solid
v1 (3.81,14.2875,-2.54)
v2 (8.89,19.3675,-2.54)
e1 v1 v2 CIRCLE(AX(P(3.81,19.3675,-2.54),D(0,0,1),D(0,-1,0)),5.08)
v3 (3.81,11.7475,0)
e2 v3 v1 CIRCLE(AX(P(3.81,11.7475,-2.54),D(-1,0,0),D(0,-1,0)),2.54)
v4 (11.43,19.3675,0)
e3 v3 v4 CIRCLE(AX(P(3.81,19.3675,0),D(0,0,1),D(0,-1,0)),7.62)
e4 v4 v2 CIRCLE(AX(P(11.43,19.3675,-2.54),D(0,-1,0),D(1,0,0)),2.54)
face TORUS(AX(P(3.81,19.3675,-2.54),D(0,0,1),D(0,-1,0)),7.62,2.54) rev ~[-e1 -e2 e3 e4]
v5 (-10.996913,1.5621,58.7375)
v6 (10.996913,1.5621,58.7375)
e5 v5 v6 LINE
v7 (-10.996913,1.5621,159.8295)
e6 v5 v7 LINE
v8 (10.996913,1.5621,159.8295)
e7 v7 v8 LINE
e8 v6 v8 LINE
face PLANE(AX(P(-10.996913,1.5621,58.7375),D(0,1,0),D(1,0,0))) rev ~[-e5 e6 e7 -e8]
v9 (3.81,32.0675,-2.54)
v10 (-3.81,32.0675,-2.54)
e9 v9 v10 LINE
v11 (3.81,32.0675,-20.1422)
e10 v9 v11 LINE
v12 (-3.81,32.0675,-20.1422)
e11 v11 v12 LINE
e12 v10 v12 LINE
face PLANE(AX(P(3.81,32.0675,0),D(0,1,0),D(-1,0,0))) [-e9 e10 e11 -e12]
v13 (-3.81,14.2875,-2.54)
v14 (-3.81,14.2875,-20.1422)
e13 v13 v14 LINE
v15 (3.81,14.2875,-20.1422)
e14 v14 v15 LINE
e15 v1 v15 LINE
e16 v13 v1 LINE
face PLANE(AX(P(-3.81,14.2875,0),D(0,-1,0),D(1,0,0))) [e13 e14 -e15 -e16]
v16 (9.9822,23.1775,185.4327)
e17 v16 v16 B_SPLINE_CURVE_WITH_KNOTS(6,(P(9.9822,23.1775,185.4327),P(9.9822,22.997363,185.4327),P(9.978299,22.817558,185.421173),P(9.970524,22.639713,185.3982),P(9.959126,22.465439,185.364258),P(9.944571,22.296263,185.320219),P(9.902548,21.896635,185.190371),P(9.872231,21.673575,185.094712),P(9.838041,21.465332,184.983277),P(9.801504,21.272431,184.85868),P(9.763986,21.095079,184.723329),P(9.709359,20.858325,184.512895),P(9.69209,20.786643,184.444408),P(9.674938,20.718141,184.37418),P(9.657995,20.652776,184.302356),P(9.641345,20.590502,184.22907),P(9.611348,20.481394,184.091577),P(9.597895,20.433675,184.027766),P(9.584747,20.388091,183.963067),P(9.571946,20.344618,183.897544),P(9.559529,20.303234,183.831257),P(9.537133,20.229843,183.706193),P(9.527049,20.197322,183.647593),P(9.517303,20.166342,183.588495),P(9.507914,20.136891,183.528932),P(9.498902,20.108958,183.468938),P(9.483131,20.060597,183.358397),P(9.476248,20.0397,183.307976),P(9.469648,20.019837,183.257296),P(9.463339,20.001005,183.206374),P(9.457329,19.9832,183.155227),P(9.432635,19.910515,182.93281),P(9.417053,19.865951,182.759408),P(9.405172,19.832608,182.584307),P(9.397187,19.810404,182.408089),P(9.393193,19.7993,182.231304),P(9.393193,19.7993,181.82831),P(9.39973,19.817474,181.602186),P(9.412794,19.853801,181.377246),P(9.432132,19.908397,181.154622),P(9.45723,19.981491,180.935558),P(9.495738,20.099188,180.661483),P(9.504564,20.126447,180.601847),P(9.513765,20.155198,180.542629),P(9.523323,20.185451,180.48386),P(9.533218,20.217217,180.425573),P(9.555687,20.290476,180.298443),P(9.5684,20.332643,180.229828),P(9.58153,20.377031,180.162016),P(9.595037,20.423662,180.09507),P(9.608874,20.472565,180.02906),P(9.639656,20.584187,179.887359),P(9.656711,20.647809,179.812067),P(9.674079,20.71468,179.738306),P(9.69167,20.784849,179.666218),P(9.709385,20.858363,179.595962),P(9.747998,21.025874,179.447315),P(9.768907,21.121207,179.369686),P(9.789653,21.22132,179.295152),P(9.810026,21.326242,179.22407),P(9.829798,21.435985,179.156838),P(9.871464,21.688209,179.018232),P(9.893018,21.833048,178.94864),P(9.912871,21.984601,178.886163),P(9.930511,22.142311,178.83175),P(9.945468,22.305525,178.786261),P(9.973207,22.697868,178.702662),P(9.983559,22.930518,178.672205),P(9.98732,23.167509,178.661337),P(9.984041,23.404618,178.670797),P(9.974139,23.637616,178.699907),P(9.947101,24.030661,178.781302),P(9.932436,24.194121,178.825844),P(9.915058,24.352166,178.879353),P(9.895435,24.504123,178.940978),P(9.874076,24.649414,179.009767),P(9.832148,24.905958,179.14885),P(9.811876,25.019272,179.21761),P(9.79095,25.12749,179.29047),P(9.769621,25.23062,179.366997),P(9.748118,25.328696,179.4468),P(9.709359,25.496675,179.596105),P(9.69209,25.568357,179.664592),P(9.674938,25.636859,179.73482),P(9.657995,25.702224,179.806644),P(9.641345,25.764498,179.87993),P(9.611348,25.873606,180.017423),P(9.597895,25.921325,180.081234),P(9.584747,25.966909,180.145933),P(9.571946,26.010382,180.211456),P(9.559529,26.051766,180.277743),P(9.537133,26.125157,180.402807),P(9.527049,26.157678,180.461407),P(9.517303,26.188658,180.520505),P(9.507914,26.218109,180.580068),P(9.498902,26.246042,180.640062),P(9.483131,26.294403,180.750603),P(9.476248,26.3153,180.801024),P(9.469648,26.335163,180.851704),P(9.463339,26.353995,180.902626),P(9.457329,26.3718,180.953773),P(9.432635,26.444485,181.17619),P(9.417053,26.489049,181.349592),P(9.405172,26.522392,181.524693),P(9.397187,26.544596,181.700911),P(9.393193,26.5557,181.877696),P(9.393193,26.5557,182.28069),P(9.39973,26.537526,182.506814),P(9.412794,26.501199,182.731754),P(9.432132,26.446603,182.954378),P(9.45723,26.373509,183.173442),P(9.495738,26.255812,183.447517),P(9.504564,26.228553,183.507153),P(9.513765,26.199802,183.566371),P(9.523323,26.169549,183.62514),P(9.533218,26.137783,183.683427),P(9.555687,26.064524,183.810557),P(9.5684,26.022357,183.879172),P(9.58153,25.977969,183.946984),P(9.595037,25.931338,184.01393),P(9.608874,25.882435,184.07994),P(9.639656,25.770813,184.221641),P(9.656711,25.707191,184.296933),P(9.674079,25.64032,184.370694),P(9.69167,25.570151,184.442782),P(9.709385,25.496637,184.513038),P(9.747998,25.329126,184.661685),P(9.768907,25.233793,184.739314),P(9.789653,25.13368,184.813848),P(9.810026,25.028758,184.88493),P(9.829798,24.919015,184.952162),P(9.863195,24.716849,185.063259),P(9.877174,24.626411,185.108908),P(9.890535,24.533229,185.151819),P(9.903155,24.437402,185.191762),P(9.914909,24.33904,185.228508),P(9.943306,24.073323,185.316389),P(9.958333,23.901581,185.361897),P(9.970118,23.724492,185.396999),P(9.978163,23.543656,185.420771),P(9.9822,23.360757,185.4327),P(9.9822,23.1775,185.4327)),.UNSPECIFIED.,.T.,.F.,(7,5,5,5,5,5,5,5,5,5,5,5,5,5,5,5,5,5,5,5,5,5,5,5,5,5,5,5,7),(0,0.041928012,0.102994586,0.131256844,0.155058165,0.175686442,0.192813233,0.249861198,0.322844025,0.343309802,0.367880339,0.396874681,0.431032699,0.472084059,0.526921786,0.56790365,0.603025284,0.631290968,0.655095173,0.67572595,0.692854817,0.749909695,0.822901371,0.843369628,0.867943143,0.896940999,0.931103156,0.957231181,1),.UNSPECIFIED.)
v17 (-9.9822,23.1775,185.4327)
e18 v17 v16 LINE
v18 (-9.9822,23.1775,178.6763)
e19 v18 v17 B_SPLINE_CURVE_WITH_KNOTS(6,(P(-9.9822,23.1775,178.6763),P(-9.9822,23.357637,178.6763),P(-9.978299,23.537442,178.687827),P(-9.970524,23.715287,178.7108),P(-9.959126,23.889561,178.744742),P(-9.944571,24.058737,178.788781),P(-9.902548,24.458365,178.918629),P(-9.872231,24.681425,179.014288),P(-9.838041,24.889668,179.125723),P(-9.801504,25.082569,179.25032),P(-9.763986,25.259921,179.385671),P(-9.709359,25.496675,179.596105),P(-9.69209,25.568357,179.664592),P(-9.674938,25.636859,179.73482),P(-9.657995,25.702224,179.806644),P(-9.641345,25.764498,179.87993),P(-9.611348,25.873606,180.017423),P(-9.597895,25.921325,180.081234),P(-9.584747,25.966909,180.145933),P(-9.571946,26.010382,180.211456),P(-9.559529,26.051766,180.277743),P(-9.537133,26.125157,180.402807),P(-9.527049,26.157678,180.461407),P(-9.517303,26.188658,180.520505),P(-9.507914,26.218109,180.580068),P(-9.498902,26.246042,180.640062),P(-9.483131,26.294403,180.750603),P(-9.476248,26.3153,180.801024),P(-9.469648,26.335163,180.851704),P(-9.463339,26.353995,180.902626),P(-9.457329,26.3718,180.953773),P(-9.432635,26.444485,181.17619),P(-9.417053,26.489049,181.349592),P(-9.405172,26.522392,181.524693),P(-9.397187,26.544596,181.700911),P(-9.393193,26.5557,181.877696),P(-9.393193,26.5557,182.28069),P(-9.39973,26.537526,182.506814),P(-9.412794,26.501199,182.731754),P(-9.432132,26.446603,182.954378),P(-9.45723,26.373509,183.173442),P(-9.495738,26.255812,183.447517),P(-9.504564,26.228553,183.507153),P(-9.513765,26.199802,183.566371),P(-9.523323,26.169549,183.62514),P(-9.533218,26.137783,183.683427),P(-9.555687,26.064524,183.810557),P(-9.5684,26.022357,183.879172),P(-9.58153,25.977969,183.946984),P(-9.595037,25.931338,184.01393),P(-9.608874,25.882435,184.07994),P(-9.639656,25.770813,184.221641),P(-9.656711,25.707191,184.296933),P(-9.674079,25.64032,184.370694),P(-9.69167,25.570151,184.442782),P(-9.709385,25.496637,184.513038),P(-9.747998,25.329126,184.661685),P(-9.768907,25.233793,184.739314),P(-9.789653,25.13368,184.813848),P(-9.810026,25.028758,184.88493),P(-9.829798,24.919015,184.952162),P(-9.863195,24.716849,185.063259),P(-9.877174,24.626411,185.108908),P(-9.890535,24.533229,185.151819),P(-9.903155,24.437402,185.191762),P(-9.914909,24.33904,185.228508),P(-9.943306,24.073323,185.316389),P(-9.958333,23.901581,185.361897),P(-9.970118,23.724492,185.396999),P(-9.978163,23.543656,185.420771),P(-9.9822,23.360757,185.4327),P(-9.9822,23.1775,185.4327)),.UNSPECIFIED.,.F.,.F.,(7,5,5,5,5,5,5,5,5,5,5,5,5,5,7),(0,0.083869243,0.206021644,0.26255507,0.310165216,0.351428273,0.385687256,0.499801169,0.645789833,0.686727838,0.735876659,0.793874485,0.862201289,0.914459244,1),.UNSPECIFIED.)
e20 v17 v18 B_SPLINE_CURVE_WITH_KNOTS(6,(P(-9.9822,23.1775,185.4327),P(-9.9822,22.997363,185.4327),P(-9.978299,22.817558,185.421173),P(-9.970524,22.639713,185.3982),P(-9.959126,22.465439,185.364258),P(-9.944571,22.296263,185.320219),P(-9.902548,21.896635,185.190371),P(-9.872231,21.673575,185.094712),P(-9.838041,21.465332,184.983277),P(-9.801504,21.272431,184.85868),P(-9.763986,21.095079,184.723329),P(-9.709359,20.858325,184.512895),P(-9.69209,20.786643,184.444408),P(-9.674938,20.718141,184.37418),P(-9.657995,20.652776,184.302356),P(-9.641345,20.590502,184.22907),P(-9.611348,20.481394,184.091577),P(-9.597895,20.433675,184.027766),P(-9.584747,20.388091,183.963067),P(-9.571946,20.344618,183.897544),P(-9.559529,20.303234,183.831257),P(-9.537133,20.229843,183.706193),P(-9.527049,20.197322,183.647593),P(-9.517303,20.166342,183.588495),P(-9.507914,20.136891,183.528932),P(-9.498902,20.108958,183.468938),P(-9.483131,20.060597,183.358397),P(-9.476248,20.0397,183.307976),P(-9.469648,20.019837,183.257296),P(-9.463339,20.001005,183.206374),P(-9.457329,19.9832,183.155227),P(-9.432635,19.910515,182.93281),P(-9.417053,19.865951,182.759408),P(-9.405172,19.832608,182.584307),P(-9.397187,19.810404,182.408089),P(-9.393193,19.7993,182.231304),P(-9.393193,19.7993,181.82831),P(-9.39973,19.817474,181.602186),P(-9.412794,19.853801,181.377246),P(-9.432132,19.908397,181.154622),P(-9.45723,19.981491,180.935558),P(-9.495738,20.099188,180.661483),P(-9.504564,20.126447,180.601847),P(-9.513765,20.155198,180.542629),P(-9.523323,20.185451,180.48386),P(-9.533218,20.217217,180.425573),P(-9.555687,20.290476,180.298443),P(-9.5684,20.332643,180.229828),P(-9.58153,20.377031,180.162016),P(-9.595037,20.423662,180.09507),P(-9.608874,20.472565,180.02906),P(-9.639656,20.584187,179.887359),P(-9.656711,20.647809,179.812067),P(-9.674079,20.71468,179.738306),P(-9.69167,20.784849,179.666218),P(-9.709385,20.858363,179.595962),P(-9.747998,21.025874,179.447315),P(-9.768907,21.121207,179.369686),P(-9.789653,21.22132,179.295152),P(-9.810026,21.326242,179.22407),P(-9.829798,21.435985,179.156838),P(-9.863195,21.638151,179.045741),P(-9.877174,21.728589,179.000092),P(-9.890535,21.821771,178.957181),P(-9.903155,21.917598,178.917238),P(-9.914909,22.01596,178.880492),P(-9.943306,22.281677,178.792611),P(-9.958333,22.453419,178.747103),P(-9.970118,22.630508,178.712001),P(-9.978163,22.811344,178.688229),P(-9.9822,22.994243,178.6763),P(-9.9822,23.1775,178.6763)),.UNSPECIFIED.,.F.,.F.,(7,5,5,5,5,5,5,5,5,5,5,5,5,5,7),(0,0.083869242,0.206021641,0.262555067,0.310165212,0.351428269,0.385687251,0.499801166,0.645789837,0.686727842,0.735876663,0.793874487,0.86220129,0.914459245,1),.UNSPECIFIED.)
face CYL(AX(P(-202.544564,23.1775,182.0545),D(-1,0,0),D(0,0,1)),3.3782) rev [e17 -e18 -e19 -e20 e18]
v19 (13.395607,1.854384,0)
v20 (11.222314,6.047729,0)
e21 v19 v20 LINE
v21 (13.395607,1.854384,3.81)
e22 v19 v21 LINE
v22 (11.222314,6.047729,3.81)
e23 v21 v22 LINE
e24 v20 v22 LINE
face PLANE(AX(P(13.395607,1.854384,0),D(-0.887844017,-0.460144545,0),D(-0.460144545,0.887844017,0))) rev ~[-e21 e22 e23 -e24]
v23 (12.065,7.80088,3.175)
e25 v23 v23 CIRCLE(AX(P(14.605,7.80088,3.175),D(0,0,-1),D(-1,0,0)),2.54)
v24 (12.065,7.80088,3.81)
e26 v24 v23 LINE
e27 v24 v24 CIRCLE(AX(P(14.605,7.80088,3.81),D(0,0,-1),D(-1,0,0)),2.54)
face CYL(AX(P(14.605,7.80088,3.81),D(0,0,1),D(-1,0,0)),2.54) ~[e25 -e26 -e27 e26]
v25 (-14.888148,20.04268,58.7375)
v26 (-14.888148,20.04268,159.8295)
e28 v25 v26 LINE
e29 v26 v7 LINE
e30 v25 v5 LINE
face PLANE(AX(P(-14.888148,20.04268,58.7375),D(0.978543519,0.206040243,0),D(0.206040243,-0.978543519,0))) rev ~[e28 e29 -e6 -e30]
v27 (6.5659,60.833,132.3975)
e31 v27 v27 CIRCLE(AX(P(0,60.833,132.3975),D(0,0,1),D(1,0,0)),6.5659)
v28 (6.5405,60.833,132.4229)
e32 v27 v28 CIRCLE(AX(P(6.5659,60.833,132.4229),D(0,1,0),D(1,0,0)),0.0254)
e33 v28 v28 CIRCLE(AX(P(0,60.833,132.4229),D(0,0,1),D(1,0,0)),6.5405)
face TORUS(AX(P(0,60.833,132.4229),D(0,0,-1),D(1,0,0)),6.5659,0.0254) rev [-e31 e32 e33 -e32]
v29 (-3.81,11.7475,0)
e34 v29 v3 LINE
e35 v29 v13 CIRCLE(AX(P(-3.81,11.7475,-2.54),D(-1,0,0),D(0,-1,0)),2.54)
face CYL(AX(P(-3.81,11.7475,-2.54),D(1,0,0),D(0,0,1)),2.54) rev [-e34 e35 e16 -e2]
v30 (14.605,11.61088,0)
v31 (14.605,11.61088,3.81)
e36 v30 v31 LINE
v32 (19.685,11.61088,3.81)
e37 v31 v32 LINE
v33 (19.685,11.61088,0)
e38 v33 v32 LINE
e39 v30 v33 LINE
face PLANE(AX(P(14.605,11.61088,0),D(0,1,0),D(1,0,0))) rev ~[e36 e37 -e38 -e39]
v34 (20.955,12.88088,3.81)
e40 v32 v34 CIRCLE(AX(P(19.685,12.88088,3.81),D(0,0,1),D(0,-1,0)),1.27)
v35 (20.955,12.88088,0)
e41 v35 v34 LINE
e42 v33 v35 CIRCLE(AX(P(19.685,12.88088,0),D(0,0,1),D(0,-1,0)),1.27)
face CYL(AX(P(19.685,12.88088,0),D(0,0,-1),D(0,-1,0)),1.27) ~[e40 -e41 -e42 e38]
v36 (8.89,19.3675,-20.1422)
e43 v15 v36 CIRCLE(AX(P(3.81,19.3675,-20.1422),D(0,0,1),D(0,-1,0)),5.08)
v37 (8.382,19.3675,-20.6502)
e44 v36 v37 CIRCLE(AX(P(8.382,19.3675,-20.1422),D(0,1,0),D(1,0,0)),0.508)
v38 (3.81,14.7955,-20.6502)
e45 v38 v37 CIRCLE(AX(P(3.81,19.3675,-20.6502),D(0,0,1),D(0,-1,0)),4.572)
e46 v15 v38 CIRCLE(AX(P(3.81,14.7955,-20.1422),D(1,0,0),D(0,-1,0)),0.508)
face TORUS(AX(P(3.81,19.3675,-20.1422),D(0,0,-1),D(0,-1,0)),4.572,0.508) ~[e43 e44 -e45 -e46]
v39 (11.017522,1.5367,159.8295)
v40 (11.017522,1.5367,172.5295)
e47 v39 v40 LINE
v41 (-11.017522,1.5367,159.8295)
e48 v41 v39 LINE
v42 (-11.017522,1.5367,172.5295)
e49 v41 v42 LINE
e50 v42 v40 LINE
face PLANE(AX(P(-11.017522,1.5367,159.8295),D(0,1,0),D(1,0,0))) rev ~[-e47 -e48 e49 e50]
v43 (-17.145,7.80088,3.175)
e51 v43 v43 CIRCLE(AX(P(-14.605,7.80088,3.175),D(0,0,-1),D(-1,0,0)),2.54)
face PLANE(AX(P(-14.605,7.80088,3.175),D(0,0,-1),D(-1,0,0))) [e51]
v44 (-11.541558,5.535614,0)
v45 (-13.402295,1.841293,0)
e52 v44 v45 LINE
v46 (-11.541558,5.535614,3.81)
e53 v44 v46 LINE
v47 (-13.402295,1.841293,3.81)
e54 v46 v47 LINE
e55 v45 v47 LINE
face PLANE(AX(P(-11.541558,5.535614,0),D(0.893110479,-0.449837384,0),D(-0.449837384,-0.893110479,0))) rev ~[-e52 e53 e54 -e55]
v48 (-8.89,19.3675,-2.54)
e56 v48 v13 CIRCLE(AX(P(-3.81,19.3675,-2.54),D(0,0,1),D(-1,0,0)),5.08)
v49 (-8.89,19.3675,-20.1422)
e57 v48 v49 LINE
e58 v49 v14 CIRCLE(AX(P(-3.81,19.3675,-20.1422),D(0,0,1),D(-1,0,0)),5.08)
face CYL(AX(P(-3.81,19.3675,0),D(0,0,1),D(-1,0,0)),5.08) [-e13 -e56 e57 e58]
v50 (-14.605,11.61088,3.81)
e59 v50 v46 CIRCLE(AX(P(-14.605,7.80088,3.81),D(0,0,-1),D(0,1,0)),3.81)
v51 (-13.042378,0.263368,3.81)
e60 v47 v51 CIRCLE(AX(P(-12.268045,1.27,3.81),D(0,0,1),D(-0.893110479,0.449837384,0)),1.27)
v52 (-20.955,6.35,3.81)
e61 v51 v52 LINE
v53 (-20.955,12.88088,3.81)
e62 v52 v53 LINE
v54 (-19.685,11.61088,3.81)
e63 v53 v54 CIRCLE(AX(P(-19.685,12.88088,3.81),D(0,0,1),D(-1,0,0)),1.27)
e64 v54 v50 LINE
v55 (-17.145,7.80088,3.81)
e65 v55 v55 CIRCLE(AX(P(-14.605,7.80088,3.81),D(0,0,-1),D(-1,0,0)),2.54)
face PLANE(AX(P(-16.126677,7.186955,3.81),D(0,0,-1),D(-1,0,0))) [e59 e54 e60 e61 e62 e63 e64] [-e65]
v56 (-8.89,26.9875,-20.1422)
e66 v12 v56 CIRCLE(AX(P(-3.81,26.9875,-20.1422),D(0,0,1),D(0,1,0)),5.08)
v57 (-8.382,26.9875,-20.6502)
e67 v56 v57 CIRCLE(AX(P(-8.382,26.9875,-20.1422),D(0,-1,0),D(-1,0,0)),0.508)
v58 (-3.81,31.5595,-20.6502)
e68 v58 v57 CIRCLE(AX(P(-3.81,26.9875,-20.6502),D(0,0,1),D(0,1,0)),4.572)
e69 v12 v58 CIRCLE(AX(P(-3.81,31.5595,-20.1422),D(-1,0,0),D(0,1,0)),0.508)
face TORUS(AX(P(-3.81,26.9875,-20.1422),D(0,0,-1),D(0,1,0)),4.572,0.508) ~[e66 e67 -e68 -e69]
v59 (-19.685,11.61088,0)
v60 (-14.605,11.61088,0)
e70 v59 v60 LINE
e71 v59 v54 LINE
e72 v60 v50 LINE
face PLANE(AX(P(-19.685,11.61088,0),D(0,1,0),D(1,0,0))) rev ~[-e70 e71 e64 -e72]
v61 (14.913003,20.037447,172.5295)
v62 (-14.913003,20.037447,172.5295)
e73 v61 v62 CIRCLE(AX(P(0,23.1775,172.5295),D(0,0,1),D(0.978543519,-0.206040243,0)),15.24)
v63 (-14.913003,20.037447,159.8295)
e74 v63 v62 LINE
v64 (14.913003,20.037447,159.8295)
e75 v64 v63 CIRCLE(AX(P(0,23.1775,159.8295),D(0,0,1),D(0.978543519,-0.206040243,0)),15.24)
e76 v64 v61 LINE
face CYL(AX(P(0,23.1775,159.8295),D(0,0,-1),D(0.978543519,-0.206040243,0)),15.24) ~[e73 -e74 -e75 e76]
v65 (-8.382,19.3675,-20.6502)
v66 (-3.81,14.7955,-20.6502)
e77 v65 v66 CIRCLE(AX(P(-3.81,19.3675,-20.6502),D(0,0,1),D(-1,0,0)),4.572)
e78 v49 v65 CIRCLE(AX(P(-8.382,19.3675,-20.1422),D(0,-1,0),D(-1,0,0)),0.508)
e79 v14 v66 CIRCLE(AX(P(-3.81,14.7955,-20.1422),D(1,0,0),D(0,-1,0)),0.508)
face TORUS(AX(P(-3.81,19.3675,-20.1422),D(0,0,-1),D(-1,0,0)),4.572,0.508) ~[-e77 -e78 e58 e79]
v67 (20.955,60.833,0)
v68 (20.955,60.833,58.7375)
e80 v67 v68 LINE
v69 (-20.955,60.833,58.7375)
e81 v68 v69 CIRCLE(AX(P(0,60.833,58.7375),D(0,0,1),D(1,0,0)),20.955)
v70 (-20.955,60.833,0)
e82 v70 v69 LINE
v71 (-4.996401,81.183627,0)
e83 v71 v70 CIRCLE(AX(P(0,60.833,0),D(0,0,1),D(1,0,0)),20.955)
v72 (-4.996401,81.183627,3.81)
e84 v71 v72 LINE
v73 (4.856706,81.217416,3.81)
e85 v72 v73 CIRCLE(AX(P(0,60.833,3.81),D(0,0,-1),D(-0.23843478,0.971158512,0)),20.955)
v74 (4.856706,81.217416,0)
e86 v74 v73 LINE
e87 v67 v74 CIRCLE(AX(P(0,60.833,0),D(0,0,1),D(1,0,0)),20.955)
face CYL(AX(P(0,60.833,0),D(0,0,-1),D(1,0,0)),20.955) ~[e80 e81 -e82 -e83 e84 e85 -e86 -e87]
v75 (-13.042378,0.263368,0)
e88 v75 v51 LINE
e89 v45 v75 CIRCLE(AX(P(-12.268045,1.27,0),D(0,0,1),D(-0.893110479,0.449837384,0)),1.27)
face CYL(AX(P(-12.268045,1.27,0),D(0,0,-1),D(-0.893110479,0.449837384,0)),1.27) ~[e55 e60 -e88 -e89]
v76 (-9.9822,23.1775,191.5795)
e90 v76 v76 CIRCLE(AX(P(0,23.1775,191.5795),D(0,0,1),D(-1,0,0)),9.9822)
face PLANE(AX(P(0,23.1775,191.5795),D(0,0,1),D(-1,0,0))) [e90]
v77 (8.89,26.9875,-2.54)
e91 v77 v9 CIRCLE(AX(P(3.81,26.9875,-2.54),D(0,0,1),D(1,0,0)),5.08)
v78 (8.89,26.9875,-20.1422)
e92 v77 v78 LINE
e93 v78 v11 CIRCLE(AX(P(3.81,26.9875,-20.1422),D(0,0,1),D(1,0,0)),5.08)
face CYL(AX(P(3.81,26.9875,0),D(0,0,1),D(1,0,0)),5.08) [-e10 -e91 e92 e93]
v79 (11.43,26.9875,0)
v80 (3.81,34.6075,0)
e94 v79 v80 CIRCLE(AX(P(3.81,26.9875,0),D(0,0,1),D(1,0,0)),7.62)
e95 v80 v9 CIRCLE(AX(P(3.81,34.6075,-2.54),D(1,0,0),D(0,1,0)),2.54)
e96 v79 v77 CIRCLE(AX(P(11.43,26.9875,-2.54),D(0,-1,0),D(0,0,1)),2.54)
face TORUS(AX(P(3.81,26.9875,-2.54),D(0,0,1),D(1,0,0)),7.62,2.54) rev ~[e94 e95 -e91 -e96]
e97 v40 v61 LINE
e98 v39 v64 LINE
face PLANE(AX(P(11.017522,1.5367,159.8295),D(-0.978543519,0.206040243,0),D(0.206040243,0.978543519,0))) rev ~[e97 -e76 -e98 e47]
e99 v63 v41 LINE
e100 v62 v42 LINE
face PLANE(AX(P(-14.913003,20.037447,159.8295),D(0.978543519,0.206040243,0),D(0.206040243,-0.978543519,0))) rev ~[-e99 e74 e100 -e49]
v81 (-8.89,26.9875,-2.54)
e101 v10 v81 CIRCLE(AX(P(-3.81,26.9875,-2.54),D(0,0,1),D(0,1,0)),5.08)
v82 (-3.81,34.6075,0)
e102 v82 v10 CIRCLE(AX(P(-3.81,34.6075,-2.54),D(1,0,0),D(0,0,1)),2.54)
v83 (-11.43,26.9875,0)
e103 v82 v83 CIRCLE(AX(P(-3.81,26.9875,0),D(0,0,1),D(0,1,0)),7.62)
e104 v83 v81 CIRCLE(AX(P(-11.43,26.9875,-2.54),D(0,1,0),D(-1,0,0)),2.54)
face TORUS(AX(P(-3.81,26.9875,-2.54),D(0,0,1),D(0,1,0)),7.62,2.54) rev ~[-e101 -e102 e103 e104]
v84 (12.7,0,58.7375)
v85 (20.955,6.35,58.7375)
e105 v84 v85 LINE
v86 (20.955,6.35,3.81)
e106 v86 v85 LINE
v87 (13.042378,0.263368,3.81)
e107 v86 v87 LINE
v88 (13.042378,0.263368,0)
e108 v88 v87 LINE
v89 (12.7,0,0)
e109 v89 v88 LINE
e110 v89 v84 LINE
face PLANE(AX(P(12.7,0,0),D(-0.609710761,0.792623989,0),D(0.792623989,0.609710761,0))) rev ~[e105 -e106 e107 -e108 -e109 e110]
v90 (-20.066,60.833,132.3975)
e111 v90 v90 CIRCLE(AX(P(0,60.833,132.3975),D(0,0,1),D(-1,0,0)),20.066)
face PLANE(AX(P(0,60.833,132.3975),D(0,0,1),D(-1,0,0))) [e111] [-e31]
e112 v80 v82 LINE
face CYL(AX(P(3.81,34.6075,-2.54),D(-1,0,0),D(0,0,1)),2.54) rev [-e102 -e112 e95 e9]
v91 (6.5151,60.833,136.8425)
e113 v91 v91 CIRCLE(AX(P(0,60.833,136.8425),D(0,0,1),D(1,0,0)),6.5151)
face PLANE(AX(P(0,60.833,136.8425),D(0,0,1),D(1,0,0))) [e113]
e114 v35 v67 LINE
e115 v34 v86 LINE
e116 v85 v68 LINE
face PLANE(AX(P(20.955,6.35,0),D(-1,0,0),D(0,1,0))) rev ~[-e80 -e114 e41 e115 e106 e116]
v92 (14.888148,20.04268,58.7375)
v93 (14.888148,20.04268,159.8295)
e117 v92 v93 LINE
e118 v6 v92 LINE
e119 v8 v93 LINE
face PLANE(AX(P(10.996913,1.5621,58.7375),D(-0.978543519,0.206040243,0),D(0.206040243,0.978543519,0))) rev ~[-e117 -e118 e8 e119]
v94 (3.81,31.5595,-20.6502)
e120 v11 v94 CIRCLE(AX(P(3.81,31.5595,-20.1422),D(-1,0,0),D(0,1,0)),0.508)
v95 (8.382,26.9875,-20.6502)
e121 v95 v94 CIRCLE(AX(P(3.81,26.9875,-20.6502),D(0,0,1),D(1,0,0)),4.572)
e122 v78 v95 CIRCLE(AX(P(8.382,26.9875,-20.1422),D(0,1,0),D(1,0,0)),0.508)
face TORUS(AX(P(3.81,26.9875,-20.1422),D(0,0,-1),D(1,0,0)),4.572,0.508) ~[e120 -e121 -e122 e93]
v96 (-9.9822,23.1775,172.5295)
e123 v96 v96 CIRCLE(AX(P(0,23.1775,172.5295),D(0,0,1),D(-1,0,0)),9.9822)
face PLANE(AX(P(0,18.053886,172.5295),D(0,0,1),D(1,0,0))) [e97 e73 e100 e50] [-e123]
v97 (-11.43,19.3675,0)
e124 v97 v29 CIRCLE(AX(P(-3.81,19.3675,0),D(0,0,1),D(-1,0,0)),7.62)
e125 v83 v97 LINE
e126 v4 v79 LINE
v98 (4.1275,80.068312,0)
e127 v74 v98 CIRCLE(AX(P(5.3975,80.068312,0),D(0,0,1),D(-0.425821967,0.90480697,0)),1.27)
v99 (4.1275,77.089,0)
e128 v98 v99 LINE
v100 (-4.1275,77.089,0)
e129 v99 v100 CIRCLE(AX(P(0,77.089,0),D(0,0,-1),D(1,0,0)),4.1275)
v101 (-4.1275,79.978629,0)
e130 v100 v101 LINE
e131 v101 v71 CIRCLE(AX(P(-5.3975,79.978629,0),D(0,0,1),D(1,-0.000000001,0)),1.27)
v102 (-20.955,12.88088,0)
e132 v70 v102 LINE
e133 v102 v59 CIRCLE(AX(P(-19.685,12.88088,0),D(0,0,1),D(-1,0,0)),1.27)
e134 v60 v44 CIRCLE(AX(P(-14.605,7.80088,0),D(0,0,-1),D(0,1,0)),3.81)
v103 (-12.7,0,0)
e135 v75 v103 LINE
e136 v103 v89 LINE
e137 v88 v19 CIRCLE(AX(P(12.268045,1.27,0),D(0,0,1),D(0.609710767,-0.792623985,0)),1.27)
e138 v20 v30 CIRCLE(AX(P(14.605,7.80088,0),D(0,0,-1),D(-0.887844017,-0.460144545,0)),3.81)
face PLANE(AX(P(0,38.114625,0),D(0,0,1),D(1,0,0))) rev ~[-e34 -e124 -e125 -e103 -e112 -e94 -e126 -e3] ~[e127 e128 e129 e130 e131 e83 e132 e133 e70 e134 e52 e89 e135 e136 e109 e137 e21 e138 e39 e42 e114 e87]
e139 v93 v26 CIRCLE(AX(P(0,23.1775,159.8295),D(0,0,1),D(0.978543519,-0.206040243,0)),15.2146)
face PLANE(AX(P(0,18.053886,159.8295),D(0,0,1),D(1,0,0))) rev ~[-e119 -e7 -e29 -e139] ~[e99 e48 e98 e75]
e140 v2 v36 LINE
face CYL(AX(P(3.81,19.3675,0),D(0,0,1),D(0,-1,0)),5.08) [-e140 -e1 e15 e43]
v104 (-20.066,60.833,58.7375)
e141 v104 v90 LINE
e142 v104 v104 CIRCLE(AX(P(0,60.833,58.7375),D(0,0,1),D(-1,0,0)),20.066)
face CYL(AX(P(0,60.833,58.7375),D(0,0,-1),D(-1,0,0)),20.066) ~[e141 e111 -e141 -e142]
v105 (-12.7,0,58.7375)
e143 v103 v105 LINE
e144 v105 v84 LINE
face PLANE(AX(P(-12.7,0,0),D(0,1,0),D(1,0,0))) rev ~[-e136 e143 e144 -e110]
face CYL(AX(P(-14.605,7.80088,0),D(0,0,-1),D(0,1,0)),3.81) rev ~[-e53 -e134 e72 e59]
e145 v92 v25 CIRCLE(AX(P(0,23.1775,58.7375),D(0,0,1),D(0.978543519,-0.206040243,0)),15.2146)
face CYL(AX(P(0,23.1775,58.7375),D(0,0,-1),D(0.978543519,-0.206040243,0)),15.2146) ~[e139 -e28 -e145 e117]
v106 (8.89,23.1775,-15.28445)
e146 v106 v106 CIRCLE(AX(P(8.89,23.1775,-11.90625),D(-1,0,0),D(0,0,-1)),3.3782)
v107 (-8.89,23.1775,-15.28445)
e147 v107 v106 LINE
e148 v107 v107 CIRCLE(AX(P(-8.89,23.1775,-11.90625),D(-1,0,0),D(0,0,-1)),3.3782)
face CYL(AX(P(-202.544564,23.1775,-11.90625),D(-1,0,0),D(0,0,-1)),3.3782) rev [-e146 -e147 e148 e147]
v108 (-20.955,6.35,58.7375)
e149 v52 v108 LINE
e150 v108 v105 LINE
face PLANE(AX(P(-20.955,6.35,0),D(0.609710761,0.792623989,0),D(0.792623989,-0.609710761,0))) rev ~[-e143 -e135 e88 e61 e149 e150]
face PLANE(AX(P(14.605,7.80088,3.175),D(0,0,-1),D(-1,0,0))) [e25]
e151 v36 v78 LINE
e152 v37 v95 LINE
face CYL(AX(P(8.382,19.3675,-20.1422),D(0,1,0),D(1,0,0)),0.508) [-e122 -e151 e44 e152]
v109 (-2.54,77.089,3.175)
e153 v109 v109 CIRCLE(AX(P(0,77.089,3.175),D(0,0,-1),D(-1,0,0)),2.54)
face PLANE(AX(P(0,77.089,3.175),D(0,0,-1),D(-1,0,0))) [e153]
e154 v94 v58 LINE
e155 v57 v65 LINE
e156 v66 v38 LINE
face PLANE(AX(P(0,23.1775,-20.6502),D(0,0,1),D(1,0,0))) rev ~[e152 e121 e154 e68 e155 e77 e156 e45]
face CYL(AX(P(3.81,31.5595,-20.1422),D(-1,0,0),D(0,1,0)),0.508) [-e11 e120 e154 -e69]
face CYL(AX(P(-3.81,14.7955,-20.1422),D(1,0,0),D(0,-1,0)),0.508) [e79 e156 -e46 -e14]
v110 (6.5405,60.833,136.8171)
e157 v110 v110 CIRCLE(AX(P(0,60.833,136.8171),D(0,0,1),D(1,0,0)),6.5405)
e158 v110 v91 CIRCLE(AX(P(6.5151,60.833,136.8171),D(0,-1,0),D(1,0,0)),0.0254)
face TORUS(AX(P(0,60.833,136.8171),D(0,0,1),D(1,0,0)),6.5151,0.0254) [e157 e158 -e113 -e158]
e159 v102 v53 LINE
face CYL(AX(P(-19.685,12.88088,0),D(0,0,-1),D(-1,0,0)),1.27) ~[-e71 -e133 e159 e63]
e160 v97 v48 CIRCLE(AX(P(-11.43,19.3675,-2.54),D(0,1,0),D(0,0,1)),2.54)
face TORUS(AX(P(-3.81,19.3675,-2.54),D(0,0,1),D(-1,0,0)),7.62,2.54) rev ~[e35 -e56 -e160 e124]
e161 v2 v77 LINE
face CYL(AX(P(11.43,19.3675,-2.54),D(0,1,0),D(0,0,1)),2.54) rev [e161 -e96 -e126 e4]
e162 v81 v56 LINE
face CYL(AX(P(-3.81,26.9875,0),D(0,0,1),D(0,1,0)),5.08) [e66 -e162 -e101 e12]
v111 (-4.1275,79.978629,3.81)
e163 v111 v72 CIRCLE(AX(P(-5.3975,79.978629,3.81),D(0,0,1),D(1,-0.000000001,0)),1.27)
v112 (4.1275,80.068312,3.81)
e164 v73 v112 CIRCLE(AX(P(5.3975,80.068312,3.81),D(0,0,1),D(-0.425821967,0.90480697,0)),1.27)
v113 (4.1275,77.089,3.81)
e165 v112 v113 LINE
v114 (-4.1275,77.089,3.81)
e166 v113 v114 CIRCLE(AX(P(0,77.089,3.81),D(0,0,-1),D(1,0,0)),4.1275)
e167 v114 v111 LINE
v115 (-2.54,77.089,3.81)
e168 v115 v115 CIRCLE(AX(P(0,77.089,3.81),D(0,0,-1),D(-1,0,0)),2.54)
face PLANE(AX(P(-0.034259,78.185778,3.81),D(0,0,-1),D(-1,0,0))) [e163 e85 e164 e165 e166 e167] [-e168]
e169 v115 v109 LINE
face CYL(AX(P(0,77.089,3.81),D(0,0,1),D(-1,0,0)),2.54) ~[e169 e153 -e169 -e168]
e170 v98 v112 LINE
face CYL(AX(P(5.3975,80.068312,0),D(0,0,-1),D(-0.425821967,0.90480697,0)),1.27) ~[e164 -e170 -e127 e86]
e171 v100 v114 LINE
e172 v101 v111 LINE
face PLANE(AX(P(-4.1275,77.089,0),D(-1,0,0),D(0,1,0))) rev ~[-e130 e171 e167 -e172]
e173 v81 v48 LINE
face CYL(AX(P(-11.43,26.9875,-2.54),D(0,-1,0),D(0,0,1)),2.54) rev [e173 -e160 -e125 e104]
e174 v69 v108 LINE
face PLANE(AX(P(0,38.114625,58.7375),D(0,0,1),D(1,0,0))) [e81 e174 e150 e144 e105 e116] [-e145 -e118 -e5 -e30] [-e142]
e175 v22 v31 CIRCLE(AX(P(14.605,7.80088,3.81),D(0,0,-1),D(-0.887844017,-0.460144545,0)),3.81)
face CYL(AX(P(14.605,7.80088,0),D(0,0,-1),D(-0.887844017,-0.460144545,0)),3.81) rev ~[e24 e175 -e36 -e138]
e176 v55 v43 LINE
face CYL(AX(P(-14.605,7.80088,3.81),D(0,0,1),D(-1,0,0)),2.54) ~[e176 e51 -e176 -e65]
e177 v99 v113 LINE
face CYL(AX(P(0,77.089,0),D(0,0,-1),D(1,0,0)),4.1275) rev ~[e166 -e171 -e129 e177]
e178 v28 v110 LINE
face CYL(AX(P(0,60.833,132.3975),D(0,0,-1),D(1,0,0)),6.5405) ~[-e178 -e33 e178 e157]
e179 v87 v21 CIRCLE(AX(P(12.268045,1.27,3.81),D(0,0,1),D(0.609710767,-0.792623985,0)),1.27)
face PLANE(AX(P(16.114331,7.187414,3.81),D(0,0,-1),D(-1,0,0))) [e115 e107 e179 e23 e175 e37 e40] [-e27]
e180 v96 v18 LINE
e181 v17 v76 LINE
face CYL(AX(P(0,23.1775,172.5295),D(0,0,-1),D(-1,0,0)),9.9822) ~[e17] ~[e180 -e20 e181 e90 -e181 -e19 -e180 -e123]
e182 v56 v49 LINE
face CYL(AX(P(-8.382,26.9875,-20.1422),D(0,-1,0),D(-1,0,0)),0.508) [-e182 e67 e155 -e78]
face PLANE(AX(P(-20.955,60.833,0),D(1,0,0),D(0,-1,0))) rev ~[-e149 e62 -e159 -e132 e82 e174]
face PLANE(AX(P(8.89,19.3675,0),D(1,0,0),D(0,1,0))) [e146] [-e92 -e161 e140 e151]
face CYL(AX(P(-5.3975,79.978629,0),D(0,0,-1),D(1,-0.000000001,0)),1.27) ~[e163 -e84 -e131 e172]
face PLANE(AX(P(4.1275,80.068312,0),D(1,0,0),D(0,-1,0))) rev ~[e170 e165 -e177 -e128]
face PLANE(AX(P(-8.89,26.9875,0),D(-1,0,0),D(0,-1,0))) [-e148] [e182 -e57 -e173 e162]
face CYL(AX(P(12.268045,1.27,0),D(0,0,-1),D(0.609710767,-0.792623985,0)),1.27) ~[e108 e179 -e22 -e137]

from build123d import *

# Parameters (mm, degrees)
BOSS_EXTRUDE1_DEPTH                      = 58.7375
SKETCH2_R                                = 20.066
BOSS_EXTRUDE2_DEPTH                      = 73.66
EDIT_LENGTH_HERE_HOVER_FOR_COMMENT_DEPTH = 113.792
SKETCH4_R                                = 9.9822
BOSS_EXTRUDE4_DEPTH                      = 19.05
BOSS_EXTRUDE5_DEPTH                      = 20.6502
CUT_EXTRUDE3_DEPTH                       = 211.434564151
CUT_EXTRUDE3_DEPTH_BACK                  = 211.434564151
SKETCH6_R                                = 3.3782
FILLET1_R                                = 2.54
FILLET2_R                                = 0.508
CUT_EXTRUDE5_DEPTH                       = 3.81
SKETCH8_R                                = 6.5405
BOSS_EXTRUDE6_DEPTH                      = 4.445
FILLET3_R                                = 0.0254
BOSS_EXTRUDE7_START                      = -12.7
BOSS_EXTRUDE7_DEPTH                      = 12.7
SKETCH10_R                               = 2.54
BOSS_EXTRUDE8_DEPTH                      = 0.635


with BuildPart() as part:
    # Sketch1 → Boss-Extrude1 (new body)
    with BuildSketch(Plane.XY):
        with BuildLine():
            Line((-12.7, 0), (12.7, 0))
            Line((12.7, 0), (20.955, 6.35))
            Line((20.955, 6.35), (20.955, 60.833))
            ThreePointArc((20.955, 60.833), (0, 81.788), (-20.955, 60.833))
            Line((-20.955, 60.833), (-20.955, 6.35))
            Line((-20.955, 6.35), (-12.7, 0))
        make_face()
    extrude(amount=BOSS_EXTRUDE1_DEPTH)

    # Sketch2 → Boss-Extrude2 (add)
    with BuildSketch(Plane.XY.offset(58.7375)):
        with Locations(Location((0, 60.833, 0), (0, 0, 180))):
            Circle(SKETCH2_R)
    extrude(amount=BOSS_EXTRUDE2_DEPTH)

    # Sketch3 → EDIT_LENGTH_HERE (hover for comment) (add)
    with BuildSketch(Plane.XY.offset(58.7375)):
        with BuildLine():
            Line((-14.88814822, 20.042680112), (-10.996912775, 1.5621))
            Line((-10.996912775, 1.5621), (10.996912775, 1.5621))
            Line((10.996912775, 1.5621), (14.88814822, 20.042680112))
            ThreePointArc((14.88814822, 20.042680112), (0, 38.3921), (-14.88814822, 20.042680112))
        make_face()
    extrude(amount=EDIT_LENGTH_HERE_HOVER_FOR_COMMENT_DEPTH)

    # Sketch4 → Boss-Extrude4 (add)
    with BuildSketch(Plane.XY.offset(172.5295)):
        with Locations(Location((0, 23.1775, 0), (0, 0, 180))):
            Circle(SKETCH4_R)
    extrude(amount=BOSS_EXTRUDE4_DEPTH)

    # Sketch5 → Boss-Extrude5 (add)
    with BuildSketch(Plane(origin=(0, 0, 0), x_dir=(-1, 0, 0), z_dir=(0, 0, -1))):
        with BuildLine():
            Line((-3.81, 32.0675), (3.81, 32.0675))
            ThreePointArc((3.81, 32.0675), (7.402102448, 30.579602448), (8.89, 26.9875))
            Line((8.89, 26.9875), (8.89, 19.3675))
            ThreePointArc((8.89, 19.3675), (7.402102448, 15.775397552), (3.81, 14.2875))
            Line((3.81, 14.2875), (-3.81, 14.2875))
            ThreePointArc((-3.81, 14.2875), (-7.402102448, 15.775397552), (-8.89, 19.3675))
            Line((-8.89, 19.3675), (-8.89, 26.9875))
            ThreePointArc((-8.89, 26.9875), (-7.402102448, 30.579602448), (-3.81, 32.0675))
        make_face()
    extrude(amount=BOSS_EXTRUDE5_DEPTH)

    # Sketch6 → Cut-Extrude3 (cut, two sides: drawn at the far end of the back side and taken through both)
    with BuildSketch(Plane(origin=(8.89, 0, 0), x_dir=(0, 0, -1), z_dir=(1, 0, 0)).offset(-CUT_EXTRUDE3_DEPTH_BACK)):
        with Locations((11.90625, 23.1775)):
            Circle(SKETCH6_R)
        with Locations(Location((-182.0545, 23.1775, 0), (0, 0, 179.999999986))):
            Circle(SKETCH6_R)
    extrude(amount=CUT_EXTRUDE3_DEPTH + CUT_EXTRUDE3_DEPTH_BACK, mode=Mode.SUBTRACT)

    # Fillet1
    fillet1_edges = [part.edges().sort_by_distance(p)[0] for p in [
        (7.402102448, 15.775397552, 0),
        (0, 14.2875, 0),
        (-7.402102448, 15.775397552, 0),
        (-8.89, 23.1775, 0),
        (-7.402102448, 30.579602448, 0),
        (0, 32.0675, 0),
        (7.402102448, 30.579602448, 0),
        (8.89, 23.1775, 0),
    ]]
    fillet(fillet1_edges, radius=FILLET1_R)

    # Fillet2
    fillet2_edges = [part.edges().sort_by_distance(p)[0] for p in [
        (7.402102448, 15.775397552, -20.6502),
        (0, 14.2875, -20.6502),
        (-7.402102448, 15.775397552, -20.6502),
        (-8.89, 23.1775, -20.6502),
        (-7.402102448, 30.579602448, -20.6502),
        (0, 32.0675, -20.6502),
        (7.402102448, 30.579602448, -20.6502),
        (8.89, 23.1775, -20.6502),
    ]]
    fillet(fillet2_edges, radius=FILLET2_R)

    # Sketch7 → Cut-Extrude5 (cut)
    with BuildSketch(Plane(origin=(0, 0, 0), x_dir=(-1, 0, 0), z_dir=(0, 0, -1))):
        with BuildLine():
            Line((-4.1275, 80.068311519), (-4.1275, 77.089))
            ThreePointArc((-4.1275, 77.089), (0, 72.9615), (4.1275, 77.089))
            Line((4.1275, 77.089), (4.1275, 79.978628931))
            ThreePointArc((4.1275, 79.978628931), (4.367379625, 80.721429048), (4.996400809, 81.183626623))
            ThreePointArc((4.996400809, 81.183626623), (0.071861599, 81.787876781), (-4.856706104, 81.217416372))
            ThreePointArc((-4.856706104, 81.217416372), (-4.325187488, 80.748786262), (-4.1275, 80.068311519))
        make_face()
        with BuildLine():
            ThreePointArc((-19.685, 11.610879552), (-20.583025612, 11.98285394), (-20.955, 12.880879552))
            Line((-20.955, 12.880879552), (-20.955, 6.35))
            Line((-20.955, 6.35), (-13.042377801, 0.26336754))
            ThreePointArc((-13.042377801, 0.26336754), (-13.507857108, 0.994743297), (-13.395607029, 1.854383572))
            Line((-13.395607029, 1.854383572), (-11.222314297, 6.047728836))
            ThreePointArc((-11.222314297, 6.047728836), (-11.349573436, 9.780348644), (-14.605, 11.610879552))
            Line((-14.605, 11.610879552), (-19.685, 11.610879552))
        make_face()
        with BuildLine():
            Line((20.955, 6.35), (20.955, 12.880879552))
            ThreePointArc((20.955, 12.880879552), (20.583025612, 11.98285394), (19.685, 11.610879552))
            Line((19.685, 11.610879552), (14.605, 11.610879552))
            ThreePointArc((14.605, 11.610879552), (11.203032914, 9.51631534), (11.541558483, 5.535614431))
            Line((11.541558483, 5.535614431), (13.402295436, 1.841293477))
            ThreePointArc((13.402295436, 1.841293477), (13.506243345, 0.987572709), (13.042377827, 0.263367559))
            Line((13.042377827, 0.263367559), (20.955, 6.35))
        make_face()
    extrude(amount=-CUT_EXTRUDE5_DEPTH, mode=Mode.SUBTRACT)

    # Sketch8 → Boss-Extrude6 (add)
    with BuildSketch(Plane.XY.offset(132.3975)):
        with Locations((0, 60.833)):
            Circle(SKETCH8_R)
    extrude(amount=BOSS_EXTRUDE6_DEPTH)

    # Fillet3
    fillet3_edges = [part.edges().sort_by_distance(p)[0] for p in [
        (-6.5405, 60.833, 132.3975),
        (-6.5405, 60.833, 136.8425),
    ]]
    fillet(fillet3_edges, radius=FILLET3_R)

    # Sketch9 → Boss-Extrude7 (add)
    with BuildSketch(Plane.XY.offset(172.5295).offset(BOSS_EXTRUDE7_START)):
        with BuildLine():
            Line((-11.017521545, 1.5367), (11.017521545, 1.5367))
            Line((11.017521545, 1.5367), (14.913003226, 20.03744669))
            ThreePointArc((14.913003226, 20.03744669), (0, 38.4175), (-14.913003226, 20.03744669))
            Line((-14.913003226, 20.03744669), (-11.017521545, 1.5367))
        make_face()
        with BuildLine():
            Line((10.996912775, 1.5621), (14.88814822, 20.042680112))
            ThreePointArc((14.88814822, 20.042680112), (0, 38.3921), (-14.88814822, 20.042680112))
            Line((-14.88814822, 20.042680112), (-10.996912775, 1.5621))
            Line((-10.996912775, 1.5621), (10.996912775, 1.5621))
        make_face(mode=Mode.SUBTRACT)
    extrude(amount=BOSS_EXTRUDE7_DEPTH)

    # Sketch10 → Boss-Extrude8 (add)
    with BuildSketch(Plane(origin=(0, 0, 3.81), x_dir=(-1, 0, 0), z_dir=(0, 0, -1))):
        with Locations((0, 77.089)):
            Circle(SKETCH10_R)
        with Locations((-14.605, 7.800879552)):
            Circle(SKETCH10_R)
        with Locations((14.605, 7.800879552)):
            Circle(SKETCH10_R)
    extrude(amount=BOSS_EXTRUDE8_DEPTH)


solid = part.part
